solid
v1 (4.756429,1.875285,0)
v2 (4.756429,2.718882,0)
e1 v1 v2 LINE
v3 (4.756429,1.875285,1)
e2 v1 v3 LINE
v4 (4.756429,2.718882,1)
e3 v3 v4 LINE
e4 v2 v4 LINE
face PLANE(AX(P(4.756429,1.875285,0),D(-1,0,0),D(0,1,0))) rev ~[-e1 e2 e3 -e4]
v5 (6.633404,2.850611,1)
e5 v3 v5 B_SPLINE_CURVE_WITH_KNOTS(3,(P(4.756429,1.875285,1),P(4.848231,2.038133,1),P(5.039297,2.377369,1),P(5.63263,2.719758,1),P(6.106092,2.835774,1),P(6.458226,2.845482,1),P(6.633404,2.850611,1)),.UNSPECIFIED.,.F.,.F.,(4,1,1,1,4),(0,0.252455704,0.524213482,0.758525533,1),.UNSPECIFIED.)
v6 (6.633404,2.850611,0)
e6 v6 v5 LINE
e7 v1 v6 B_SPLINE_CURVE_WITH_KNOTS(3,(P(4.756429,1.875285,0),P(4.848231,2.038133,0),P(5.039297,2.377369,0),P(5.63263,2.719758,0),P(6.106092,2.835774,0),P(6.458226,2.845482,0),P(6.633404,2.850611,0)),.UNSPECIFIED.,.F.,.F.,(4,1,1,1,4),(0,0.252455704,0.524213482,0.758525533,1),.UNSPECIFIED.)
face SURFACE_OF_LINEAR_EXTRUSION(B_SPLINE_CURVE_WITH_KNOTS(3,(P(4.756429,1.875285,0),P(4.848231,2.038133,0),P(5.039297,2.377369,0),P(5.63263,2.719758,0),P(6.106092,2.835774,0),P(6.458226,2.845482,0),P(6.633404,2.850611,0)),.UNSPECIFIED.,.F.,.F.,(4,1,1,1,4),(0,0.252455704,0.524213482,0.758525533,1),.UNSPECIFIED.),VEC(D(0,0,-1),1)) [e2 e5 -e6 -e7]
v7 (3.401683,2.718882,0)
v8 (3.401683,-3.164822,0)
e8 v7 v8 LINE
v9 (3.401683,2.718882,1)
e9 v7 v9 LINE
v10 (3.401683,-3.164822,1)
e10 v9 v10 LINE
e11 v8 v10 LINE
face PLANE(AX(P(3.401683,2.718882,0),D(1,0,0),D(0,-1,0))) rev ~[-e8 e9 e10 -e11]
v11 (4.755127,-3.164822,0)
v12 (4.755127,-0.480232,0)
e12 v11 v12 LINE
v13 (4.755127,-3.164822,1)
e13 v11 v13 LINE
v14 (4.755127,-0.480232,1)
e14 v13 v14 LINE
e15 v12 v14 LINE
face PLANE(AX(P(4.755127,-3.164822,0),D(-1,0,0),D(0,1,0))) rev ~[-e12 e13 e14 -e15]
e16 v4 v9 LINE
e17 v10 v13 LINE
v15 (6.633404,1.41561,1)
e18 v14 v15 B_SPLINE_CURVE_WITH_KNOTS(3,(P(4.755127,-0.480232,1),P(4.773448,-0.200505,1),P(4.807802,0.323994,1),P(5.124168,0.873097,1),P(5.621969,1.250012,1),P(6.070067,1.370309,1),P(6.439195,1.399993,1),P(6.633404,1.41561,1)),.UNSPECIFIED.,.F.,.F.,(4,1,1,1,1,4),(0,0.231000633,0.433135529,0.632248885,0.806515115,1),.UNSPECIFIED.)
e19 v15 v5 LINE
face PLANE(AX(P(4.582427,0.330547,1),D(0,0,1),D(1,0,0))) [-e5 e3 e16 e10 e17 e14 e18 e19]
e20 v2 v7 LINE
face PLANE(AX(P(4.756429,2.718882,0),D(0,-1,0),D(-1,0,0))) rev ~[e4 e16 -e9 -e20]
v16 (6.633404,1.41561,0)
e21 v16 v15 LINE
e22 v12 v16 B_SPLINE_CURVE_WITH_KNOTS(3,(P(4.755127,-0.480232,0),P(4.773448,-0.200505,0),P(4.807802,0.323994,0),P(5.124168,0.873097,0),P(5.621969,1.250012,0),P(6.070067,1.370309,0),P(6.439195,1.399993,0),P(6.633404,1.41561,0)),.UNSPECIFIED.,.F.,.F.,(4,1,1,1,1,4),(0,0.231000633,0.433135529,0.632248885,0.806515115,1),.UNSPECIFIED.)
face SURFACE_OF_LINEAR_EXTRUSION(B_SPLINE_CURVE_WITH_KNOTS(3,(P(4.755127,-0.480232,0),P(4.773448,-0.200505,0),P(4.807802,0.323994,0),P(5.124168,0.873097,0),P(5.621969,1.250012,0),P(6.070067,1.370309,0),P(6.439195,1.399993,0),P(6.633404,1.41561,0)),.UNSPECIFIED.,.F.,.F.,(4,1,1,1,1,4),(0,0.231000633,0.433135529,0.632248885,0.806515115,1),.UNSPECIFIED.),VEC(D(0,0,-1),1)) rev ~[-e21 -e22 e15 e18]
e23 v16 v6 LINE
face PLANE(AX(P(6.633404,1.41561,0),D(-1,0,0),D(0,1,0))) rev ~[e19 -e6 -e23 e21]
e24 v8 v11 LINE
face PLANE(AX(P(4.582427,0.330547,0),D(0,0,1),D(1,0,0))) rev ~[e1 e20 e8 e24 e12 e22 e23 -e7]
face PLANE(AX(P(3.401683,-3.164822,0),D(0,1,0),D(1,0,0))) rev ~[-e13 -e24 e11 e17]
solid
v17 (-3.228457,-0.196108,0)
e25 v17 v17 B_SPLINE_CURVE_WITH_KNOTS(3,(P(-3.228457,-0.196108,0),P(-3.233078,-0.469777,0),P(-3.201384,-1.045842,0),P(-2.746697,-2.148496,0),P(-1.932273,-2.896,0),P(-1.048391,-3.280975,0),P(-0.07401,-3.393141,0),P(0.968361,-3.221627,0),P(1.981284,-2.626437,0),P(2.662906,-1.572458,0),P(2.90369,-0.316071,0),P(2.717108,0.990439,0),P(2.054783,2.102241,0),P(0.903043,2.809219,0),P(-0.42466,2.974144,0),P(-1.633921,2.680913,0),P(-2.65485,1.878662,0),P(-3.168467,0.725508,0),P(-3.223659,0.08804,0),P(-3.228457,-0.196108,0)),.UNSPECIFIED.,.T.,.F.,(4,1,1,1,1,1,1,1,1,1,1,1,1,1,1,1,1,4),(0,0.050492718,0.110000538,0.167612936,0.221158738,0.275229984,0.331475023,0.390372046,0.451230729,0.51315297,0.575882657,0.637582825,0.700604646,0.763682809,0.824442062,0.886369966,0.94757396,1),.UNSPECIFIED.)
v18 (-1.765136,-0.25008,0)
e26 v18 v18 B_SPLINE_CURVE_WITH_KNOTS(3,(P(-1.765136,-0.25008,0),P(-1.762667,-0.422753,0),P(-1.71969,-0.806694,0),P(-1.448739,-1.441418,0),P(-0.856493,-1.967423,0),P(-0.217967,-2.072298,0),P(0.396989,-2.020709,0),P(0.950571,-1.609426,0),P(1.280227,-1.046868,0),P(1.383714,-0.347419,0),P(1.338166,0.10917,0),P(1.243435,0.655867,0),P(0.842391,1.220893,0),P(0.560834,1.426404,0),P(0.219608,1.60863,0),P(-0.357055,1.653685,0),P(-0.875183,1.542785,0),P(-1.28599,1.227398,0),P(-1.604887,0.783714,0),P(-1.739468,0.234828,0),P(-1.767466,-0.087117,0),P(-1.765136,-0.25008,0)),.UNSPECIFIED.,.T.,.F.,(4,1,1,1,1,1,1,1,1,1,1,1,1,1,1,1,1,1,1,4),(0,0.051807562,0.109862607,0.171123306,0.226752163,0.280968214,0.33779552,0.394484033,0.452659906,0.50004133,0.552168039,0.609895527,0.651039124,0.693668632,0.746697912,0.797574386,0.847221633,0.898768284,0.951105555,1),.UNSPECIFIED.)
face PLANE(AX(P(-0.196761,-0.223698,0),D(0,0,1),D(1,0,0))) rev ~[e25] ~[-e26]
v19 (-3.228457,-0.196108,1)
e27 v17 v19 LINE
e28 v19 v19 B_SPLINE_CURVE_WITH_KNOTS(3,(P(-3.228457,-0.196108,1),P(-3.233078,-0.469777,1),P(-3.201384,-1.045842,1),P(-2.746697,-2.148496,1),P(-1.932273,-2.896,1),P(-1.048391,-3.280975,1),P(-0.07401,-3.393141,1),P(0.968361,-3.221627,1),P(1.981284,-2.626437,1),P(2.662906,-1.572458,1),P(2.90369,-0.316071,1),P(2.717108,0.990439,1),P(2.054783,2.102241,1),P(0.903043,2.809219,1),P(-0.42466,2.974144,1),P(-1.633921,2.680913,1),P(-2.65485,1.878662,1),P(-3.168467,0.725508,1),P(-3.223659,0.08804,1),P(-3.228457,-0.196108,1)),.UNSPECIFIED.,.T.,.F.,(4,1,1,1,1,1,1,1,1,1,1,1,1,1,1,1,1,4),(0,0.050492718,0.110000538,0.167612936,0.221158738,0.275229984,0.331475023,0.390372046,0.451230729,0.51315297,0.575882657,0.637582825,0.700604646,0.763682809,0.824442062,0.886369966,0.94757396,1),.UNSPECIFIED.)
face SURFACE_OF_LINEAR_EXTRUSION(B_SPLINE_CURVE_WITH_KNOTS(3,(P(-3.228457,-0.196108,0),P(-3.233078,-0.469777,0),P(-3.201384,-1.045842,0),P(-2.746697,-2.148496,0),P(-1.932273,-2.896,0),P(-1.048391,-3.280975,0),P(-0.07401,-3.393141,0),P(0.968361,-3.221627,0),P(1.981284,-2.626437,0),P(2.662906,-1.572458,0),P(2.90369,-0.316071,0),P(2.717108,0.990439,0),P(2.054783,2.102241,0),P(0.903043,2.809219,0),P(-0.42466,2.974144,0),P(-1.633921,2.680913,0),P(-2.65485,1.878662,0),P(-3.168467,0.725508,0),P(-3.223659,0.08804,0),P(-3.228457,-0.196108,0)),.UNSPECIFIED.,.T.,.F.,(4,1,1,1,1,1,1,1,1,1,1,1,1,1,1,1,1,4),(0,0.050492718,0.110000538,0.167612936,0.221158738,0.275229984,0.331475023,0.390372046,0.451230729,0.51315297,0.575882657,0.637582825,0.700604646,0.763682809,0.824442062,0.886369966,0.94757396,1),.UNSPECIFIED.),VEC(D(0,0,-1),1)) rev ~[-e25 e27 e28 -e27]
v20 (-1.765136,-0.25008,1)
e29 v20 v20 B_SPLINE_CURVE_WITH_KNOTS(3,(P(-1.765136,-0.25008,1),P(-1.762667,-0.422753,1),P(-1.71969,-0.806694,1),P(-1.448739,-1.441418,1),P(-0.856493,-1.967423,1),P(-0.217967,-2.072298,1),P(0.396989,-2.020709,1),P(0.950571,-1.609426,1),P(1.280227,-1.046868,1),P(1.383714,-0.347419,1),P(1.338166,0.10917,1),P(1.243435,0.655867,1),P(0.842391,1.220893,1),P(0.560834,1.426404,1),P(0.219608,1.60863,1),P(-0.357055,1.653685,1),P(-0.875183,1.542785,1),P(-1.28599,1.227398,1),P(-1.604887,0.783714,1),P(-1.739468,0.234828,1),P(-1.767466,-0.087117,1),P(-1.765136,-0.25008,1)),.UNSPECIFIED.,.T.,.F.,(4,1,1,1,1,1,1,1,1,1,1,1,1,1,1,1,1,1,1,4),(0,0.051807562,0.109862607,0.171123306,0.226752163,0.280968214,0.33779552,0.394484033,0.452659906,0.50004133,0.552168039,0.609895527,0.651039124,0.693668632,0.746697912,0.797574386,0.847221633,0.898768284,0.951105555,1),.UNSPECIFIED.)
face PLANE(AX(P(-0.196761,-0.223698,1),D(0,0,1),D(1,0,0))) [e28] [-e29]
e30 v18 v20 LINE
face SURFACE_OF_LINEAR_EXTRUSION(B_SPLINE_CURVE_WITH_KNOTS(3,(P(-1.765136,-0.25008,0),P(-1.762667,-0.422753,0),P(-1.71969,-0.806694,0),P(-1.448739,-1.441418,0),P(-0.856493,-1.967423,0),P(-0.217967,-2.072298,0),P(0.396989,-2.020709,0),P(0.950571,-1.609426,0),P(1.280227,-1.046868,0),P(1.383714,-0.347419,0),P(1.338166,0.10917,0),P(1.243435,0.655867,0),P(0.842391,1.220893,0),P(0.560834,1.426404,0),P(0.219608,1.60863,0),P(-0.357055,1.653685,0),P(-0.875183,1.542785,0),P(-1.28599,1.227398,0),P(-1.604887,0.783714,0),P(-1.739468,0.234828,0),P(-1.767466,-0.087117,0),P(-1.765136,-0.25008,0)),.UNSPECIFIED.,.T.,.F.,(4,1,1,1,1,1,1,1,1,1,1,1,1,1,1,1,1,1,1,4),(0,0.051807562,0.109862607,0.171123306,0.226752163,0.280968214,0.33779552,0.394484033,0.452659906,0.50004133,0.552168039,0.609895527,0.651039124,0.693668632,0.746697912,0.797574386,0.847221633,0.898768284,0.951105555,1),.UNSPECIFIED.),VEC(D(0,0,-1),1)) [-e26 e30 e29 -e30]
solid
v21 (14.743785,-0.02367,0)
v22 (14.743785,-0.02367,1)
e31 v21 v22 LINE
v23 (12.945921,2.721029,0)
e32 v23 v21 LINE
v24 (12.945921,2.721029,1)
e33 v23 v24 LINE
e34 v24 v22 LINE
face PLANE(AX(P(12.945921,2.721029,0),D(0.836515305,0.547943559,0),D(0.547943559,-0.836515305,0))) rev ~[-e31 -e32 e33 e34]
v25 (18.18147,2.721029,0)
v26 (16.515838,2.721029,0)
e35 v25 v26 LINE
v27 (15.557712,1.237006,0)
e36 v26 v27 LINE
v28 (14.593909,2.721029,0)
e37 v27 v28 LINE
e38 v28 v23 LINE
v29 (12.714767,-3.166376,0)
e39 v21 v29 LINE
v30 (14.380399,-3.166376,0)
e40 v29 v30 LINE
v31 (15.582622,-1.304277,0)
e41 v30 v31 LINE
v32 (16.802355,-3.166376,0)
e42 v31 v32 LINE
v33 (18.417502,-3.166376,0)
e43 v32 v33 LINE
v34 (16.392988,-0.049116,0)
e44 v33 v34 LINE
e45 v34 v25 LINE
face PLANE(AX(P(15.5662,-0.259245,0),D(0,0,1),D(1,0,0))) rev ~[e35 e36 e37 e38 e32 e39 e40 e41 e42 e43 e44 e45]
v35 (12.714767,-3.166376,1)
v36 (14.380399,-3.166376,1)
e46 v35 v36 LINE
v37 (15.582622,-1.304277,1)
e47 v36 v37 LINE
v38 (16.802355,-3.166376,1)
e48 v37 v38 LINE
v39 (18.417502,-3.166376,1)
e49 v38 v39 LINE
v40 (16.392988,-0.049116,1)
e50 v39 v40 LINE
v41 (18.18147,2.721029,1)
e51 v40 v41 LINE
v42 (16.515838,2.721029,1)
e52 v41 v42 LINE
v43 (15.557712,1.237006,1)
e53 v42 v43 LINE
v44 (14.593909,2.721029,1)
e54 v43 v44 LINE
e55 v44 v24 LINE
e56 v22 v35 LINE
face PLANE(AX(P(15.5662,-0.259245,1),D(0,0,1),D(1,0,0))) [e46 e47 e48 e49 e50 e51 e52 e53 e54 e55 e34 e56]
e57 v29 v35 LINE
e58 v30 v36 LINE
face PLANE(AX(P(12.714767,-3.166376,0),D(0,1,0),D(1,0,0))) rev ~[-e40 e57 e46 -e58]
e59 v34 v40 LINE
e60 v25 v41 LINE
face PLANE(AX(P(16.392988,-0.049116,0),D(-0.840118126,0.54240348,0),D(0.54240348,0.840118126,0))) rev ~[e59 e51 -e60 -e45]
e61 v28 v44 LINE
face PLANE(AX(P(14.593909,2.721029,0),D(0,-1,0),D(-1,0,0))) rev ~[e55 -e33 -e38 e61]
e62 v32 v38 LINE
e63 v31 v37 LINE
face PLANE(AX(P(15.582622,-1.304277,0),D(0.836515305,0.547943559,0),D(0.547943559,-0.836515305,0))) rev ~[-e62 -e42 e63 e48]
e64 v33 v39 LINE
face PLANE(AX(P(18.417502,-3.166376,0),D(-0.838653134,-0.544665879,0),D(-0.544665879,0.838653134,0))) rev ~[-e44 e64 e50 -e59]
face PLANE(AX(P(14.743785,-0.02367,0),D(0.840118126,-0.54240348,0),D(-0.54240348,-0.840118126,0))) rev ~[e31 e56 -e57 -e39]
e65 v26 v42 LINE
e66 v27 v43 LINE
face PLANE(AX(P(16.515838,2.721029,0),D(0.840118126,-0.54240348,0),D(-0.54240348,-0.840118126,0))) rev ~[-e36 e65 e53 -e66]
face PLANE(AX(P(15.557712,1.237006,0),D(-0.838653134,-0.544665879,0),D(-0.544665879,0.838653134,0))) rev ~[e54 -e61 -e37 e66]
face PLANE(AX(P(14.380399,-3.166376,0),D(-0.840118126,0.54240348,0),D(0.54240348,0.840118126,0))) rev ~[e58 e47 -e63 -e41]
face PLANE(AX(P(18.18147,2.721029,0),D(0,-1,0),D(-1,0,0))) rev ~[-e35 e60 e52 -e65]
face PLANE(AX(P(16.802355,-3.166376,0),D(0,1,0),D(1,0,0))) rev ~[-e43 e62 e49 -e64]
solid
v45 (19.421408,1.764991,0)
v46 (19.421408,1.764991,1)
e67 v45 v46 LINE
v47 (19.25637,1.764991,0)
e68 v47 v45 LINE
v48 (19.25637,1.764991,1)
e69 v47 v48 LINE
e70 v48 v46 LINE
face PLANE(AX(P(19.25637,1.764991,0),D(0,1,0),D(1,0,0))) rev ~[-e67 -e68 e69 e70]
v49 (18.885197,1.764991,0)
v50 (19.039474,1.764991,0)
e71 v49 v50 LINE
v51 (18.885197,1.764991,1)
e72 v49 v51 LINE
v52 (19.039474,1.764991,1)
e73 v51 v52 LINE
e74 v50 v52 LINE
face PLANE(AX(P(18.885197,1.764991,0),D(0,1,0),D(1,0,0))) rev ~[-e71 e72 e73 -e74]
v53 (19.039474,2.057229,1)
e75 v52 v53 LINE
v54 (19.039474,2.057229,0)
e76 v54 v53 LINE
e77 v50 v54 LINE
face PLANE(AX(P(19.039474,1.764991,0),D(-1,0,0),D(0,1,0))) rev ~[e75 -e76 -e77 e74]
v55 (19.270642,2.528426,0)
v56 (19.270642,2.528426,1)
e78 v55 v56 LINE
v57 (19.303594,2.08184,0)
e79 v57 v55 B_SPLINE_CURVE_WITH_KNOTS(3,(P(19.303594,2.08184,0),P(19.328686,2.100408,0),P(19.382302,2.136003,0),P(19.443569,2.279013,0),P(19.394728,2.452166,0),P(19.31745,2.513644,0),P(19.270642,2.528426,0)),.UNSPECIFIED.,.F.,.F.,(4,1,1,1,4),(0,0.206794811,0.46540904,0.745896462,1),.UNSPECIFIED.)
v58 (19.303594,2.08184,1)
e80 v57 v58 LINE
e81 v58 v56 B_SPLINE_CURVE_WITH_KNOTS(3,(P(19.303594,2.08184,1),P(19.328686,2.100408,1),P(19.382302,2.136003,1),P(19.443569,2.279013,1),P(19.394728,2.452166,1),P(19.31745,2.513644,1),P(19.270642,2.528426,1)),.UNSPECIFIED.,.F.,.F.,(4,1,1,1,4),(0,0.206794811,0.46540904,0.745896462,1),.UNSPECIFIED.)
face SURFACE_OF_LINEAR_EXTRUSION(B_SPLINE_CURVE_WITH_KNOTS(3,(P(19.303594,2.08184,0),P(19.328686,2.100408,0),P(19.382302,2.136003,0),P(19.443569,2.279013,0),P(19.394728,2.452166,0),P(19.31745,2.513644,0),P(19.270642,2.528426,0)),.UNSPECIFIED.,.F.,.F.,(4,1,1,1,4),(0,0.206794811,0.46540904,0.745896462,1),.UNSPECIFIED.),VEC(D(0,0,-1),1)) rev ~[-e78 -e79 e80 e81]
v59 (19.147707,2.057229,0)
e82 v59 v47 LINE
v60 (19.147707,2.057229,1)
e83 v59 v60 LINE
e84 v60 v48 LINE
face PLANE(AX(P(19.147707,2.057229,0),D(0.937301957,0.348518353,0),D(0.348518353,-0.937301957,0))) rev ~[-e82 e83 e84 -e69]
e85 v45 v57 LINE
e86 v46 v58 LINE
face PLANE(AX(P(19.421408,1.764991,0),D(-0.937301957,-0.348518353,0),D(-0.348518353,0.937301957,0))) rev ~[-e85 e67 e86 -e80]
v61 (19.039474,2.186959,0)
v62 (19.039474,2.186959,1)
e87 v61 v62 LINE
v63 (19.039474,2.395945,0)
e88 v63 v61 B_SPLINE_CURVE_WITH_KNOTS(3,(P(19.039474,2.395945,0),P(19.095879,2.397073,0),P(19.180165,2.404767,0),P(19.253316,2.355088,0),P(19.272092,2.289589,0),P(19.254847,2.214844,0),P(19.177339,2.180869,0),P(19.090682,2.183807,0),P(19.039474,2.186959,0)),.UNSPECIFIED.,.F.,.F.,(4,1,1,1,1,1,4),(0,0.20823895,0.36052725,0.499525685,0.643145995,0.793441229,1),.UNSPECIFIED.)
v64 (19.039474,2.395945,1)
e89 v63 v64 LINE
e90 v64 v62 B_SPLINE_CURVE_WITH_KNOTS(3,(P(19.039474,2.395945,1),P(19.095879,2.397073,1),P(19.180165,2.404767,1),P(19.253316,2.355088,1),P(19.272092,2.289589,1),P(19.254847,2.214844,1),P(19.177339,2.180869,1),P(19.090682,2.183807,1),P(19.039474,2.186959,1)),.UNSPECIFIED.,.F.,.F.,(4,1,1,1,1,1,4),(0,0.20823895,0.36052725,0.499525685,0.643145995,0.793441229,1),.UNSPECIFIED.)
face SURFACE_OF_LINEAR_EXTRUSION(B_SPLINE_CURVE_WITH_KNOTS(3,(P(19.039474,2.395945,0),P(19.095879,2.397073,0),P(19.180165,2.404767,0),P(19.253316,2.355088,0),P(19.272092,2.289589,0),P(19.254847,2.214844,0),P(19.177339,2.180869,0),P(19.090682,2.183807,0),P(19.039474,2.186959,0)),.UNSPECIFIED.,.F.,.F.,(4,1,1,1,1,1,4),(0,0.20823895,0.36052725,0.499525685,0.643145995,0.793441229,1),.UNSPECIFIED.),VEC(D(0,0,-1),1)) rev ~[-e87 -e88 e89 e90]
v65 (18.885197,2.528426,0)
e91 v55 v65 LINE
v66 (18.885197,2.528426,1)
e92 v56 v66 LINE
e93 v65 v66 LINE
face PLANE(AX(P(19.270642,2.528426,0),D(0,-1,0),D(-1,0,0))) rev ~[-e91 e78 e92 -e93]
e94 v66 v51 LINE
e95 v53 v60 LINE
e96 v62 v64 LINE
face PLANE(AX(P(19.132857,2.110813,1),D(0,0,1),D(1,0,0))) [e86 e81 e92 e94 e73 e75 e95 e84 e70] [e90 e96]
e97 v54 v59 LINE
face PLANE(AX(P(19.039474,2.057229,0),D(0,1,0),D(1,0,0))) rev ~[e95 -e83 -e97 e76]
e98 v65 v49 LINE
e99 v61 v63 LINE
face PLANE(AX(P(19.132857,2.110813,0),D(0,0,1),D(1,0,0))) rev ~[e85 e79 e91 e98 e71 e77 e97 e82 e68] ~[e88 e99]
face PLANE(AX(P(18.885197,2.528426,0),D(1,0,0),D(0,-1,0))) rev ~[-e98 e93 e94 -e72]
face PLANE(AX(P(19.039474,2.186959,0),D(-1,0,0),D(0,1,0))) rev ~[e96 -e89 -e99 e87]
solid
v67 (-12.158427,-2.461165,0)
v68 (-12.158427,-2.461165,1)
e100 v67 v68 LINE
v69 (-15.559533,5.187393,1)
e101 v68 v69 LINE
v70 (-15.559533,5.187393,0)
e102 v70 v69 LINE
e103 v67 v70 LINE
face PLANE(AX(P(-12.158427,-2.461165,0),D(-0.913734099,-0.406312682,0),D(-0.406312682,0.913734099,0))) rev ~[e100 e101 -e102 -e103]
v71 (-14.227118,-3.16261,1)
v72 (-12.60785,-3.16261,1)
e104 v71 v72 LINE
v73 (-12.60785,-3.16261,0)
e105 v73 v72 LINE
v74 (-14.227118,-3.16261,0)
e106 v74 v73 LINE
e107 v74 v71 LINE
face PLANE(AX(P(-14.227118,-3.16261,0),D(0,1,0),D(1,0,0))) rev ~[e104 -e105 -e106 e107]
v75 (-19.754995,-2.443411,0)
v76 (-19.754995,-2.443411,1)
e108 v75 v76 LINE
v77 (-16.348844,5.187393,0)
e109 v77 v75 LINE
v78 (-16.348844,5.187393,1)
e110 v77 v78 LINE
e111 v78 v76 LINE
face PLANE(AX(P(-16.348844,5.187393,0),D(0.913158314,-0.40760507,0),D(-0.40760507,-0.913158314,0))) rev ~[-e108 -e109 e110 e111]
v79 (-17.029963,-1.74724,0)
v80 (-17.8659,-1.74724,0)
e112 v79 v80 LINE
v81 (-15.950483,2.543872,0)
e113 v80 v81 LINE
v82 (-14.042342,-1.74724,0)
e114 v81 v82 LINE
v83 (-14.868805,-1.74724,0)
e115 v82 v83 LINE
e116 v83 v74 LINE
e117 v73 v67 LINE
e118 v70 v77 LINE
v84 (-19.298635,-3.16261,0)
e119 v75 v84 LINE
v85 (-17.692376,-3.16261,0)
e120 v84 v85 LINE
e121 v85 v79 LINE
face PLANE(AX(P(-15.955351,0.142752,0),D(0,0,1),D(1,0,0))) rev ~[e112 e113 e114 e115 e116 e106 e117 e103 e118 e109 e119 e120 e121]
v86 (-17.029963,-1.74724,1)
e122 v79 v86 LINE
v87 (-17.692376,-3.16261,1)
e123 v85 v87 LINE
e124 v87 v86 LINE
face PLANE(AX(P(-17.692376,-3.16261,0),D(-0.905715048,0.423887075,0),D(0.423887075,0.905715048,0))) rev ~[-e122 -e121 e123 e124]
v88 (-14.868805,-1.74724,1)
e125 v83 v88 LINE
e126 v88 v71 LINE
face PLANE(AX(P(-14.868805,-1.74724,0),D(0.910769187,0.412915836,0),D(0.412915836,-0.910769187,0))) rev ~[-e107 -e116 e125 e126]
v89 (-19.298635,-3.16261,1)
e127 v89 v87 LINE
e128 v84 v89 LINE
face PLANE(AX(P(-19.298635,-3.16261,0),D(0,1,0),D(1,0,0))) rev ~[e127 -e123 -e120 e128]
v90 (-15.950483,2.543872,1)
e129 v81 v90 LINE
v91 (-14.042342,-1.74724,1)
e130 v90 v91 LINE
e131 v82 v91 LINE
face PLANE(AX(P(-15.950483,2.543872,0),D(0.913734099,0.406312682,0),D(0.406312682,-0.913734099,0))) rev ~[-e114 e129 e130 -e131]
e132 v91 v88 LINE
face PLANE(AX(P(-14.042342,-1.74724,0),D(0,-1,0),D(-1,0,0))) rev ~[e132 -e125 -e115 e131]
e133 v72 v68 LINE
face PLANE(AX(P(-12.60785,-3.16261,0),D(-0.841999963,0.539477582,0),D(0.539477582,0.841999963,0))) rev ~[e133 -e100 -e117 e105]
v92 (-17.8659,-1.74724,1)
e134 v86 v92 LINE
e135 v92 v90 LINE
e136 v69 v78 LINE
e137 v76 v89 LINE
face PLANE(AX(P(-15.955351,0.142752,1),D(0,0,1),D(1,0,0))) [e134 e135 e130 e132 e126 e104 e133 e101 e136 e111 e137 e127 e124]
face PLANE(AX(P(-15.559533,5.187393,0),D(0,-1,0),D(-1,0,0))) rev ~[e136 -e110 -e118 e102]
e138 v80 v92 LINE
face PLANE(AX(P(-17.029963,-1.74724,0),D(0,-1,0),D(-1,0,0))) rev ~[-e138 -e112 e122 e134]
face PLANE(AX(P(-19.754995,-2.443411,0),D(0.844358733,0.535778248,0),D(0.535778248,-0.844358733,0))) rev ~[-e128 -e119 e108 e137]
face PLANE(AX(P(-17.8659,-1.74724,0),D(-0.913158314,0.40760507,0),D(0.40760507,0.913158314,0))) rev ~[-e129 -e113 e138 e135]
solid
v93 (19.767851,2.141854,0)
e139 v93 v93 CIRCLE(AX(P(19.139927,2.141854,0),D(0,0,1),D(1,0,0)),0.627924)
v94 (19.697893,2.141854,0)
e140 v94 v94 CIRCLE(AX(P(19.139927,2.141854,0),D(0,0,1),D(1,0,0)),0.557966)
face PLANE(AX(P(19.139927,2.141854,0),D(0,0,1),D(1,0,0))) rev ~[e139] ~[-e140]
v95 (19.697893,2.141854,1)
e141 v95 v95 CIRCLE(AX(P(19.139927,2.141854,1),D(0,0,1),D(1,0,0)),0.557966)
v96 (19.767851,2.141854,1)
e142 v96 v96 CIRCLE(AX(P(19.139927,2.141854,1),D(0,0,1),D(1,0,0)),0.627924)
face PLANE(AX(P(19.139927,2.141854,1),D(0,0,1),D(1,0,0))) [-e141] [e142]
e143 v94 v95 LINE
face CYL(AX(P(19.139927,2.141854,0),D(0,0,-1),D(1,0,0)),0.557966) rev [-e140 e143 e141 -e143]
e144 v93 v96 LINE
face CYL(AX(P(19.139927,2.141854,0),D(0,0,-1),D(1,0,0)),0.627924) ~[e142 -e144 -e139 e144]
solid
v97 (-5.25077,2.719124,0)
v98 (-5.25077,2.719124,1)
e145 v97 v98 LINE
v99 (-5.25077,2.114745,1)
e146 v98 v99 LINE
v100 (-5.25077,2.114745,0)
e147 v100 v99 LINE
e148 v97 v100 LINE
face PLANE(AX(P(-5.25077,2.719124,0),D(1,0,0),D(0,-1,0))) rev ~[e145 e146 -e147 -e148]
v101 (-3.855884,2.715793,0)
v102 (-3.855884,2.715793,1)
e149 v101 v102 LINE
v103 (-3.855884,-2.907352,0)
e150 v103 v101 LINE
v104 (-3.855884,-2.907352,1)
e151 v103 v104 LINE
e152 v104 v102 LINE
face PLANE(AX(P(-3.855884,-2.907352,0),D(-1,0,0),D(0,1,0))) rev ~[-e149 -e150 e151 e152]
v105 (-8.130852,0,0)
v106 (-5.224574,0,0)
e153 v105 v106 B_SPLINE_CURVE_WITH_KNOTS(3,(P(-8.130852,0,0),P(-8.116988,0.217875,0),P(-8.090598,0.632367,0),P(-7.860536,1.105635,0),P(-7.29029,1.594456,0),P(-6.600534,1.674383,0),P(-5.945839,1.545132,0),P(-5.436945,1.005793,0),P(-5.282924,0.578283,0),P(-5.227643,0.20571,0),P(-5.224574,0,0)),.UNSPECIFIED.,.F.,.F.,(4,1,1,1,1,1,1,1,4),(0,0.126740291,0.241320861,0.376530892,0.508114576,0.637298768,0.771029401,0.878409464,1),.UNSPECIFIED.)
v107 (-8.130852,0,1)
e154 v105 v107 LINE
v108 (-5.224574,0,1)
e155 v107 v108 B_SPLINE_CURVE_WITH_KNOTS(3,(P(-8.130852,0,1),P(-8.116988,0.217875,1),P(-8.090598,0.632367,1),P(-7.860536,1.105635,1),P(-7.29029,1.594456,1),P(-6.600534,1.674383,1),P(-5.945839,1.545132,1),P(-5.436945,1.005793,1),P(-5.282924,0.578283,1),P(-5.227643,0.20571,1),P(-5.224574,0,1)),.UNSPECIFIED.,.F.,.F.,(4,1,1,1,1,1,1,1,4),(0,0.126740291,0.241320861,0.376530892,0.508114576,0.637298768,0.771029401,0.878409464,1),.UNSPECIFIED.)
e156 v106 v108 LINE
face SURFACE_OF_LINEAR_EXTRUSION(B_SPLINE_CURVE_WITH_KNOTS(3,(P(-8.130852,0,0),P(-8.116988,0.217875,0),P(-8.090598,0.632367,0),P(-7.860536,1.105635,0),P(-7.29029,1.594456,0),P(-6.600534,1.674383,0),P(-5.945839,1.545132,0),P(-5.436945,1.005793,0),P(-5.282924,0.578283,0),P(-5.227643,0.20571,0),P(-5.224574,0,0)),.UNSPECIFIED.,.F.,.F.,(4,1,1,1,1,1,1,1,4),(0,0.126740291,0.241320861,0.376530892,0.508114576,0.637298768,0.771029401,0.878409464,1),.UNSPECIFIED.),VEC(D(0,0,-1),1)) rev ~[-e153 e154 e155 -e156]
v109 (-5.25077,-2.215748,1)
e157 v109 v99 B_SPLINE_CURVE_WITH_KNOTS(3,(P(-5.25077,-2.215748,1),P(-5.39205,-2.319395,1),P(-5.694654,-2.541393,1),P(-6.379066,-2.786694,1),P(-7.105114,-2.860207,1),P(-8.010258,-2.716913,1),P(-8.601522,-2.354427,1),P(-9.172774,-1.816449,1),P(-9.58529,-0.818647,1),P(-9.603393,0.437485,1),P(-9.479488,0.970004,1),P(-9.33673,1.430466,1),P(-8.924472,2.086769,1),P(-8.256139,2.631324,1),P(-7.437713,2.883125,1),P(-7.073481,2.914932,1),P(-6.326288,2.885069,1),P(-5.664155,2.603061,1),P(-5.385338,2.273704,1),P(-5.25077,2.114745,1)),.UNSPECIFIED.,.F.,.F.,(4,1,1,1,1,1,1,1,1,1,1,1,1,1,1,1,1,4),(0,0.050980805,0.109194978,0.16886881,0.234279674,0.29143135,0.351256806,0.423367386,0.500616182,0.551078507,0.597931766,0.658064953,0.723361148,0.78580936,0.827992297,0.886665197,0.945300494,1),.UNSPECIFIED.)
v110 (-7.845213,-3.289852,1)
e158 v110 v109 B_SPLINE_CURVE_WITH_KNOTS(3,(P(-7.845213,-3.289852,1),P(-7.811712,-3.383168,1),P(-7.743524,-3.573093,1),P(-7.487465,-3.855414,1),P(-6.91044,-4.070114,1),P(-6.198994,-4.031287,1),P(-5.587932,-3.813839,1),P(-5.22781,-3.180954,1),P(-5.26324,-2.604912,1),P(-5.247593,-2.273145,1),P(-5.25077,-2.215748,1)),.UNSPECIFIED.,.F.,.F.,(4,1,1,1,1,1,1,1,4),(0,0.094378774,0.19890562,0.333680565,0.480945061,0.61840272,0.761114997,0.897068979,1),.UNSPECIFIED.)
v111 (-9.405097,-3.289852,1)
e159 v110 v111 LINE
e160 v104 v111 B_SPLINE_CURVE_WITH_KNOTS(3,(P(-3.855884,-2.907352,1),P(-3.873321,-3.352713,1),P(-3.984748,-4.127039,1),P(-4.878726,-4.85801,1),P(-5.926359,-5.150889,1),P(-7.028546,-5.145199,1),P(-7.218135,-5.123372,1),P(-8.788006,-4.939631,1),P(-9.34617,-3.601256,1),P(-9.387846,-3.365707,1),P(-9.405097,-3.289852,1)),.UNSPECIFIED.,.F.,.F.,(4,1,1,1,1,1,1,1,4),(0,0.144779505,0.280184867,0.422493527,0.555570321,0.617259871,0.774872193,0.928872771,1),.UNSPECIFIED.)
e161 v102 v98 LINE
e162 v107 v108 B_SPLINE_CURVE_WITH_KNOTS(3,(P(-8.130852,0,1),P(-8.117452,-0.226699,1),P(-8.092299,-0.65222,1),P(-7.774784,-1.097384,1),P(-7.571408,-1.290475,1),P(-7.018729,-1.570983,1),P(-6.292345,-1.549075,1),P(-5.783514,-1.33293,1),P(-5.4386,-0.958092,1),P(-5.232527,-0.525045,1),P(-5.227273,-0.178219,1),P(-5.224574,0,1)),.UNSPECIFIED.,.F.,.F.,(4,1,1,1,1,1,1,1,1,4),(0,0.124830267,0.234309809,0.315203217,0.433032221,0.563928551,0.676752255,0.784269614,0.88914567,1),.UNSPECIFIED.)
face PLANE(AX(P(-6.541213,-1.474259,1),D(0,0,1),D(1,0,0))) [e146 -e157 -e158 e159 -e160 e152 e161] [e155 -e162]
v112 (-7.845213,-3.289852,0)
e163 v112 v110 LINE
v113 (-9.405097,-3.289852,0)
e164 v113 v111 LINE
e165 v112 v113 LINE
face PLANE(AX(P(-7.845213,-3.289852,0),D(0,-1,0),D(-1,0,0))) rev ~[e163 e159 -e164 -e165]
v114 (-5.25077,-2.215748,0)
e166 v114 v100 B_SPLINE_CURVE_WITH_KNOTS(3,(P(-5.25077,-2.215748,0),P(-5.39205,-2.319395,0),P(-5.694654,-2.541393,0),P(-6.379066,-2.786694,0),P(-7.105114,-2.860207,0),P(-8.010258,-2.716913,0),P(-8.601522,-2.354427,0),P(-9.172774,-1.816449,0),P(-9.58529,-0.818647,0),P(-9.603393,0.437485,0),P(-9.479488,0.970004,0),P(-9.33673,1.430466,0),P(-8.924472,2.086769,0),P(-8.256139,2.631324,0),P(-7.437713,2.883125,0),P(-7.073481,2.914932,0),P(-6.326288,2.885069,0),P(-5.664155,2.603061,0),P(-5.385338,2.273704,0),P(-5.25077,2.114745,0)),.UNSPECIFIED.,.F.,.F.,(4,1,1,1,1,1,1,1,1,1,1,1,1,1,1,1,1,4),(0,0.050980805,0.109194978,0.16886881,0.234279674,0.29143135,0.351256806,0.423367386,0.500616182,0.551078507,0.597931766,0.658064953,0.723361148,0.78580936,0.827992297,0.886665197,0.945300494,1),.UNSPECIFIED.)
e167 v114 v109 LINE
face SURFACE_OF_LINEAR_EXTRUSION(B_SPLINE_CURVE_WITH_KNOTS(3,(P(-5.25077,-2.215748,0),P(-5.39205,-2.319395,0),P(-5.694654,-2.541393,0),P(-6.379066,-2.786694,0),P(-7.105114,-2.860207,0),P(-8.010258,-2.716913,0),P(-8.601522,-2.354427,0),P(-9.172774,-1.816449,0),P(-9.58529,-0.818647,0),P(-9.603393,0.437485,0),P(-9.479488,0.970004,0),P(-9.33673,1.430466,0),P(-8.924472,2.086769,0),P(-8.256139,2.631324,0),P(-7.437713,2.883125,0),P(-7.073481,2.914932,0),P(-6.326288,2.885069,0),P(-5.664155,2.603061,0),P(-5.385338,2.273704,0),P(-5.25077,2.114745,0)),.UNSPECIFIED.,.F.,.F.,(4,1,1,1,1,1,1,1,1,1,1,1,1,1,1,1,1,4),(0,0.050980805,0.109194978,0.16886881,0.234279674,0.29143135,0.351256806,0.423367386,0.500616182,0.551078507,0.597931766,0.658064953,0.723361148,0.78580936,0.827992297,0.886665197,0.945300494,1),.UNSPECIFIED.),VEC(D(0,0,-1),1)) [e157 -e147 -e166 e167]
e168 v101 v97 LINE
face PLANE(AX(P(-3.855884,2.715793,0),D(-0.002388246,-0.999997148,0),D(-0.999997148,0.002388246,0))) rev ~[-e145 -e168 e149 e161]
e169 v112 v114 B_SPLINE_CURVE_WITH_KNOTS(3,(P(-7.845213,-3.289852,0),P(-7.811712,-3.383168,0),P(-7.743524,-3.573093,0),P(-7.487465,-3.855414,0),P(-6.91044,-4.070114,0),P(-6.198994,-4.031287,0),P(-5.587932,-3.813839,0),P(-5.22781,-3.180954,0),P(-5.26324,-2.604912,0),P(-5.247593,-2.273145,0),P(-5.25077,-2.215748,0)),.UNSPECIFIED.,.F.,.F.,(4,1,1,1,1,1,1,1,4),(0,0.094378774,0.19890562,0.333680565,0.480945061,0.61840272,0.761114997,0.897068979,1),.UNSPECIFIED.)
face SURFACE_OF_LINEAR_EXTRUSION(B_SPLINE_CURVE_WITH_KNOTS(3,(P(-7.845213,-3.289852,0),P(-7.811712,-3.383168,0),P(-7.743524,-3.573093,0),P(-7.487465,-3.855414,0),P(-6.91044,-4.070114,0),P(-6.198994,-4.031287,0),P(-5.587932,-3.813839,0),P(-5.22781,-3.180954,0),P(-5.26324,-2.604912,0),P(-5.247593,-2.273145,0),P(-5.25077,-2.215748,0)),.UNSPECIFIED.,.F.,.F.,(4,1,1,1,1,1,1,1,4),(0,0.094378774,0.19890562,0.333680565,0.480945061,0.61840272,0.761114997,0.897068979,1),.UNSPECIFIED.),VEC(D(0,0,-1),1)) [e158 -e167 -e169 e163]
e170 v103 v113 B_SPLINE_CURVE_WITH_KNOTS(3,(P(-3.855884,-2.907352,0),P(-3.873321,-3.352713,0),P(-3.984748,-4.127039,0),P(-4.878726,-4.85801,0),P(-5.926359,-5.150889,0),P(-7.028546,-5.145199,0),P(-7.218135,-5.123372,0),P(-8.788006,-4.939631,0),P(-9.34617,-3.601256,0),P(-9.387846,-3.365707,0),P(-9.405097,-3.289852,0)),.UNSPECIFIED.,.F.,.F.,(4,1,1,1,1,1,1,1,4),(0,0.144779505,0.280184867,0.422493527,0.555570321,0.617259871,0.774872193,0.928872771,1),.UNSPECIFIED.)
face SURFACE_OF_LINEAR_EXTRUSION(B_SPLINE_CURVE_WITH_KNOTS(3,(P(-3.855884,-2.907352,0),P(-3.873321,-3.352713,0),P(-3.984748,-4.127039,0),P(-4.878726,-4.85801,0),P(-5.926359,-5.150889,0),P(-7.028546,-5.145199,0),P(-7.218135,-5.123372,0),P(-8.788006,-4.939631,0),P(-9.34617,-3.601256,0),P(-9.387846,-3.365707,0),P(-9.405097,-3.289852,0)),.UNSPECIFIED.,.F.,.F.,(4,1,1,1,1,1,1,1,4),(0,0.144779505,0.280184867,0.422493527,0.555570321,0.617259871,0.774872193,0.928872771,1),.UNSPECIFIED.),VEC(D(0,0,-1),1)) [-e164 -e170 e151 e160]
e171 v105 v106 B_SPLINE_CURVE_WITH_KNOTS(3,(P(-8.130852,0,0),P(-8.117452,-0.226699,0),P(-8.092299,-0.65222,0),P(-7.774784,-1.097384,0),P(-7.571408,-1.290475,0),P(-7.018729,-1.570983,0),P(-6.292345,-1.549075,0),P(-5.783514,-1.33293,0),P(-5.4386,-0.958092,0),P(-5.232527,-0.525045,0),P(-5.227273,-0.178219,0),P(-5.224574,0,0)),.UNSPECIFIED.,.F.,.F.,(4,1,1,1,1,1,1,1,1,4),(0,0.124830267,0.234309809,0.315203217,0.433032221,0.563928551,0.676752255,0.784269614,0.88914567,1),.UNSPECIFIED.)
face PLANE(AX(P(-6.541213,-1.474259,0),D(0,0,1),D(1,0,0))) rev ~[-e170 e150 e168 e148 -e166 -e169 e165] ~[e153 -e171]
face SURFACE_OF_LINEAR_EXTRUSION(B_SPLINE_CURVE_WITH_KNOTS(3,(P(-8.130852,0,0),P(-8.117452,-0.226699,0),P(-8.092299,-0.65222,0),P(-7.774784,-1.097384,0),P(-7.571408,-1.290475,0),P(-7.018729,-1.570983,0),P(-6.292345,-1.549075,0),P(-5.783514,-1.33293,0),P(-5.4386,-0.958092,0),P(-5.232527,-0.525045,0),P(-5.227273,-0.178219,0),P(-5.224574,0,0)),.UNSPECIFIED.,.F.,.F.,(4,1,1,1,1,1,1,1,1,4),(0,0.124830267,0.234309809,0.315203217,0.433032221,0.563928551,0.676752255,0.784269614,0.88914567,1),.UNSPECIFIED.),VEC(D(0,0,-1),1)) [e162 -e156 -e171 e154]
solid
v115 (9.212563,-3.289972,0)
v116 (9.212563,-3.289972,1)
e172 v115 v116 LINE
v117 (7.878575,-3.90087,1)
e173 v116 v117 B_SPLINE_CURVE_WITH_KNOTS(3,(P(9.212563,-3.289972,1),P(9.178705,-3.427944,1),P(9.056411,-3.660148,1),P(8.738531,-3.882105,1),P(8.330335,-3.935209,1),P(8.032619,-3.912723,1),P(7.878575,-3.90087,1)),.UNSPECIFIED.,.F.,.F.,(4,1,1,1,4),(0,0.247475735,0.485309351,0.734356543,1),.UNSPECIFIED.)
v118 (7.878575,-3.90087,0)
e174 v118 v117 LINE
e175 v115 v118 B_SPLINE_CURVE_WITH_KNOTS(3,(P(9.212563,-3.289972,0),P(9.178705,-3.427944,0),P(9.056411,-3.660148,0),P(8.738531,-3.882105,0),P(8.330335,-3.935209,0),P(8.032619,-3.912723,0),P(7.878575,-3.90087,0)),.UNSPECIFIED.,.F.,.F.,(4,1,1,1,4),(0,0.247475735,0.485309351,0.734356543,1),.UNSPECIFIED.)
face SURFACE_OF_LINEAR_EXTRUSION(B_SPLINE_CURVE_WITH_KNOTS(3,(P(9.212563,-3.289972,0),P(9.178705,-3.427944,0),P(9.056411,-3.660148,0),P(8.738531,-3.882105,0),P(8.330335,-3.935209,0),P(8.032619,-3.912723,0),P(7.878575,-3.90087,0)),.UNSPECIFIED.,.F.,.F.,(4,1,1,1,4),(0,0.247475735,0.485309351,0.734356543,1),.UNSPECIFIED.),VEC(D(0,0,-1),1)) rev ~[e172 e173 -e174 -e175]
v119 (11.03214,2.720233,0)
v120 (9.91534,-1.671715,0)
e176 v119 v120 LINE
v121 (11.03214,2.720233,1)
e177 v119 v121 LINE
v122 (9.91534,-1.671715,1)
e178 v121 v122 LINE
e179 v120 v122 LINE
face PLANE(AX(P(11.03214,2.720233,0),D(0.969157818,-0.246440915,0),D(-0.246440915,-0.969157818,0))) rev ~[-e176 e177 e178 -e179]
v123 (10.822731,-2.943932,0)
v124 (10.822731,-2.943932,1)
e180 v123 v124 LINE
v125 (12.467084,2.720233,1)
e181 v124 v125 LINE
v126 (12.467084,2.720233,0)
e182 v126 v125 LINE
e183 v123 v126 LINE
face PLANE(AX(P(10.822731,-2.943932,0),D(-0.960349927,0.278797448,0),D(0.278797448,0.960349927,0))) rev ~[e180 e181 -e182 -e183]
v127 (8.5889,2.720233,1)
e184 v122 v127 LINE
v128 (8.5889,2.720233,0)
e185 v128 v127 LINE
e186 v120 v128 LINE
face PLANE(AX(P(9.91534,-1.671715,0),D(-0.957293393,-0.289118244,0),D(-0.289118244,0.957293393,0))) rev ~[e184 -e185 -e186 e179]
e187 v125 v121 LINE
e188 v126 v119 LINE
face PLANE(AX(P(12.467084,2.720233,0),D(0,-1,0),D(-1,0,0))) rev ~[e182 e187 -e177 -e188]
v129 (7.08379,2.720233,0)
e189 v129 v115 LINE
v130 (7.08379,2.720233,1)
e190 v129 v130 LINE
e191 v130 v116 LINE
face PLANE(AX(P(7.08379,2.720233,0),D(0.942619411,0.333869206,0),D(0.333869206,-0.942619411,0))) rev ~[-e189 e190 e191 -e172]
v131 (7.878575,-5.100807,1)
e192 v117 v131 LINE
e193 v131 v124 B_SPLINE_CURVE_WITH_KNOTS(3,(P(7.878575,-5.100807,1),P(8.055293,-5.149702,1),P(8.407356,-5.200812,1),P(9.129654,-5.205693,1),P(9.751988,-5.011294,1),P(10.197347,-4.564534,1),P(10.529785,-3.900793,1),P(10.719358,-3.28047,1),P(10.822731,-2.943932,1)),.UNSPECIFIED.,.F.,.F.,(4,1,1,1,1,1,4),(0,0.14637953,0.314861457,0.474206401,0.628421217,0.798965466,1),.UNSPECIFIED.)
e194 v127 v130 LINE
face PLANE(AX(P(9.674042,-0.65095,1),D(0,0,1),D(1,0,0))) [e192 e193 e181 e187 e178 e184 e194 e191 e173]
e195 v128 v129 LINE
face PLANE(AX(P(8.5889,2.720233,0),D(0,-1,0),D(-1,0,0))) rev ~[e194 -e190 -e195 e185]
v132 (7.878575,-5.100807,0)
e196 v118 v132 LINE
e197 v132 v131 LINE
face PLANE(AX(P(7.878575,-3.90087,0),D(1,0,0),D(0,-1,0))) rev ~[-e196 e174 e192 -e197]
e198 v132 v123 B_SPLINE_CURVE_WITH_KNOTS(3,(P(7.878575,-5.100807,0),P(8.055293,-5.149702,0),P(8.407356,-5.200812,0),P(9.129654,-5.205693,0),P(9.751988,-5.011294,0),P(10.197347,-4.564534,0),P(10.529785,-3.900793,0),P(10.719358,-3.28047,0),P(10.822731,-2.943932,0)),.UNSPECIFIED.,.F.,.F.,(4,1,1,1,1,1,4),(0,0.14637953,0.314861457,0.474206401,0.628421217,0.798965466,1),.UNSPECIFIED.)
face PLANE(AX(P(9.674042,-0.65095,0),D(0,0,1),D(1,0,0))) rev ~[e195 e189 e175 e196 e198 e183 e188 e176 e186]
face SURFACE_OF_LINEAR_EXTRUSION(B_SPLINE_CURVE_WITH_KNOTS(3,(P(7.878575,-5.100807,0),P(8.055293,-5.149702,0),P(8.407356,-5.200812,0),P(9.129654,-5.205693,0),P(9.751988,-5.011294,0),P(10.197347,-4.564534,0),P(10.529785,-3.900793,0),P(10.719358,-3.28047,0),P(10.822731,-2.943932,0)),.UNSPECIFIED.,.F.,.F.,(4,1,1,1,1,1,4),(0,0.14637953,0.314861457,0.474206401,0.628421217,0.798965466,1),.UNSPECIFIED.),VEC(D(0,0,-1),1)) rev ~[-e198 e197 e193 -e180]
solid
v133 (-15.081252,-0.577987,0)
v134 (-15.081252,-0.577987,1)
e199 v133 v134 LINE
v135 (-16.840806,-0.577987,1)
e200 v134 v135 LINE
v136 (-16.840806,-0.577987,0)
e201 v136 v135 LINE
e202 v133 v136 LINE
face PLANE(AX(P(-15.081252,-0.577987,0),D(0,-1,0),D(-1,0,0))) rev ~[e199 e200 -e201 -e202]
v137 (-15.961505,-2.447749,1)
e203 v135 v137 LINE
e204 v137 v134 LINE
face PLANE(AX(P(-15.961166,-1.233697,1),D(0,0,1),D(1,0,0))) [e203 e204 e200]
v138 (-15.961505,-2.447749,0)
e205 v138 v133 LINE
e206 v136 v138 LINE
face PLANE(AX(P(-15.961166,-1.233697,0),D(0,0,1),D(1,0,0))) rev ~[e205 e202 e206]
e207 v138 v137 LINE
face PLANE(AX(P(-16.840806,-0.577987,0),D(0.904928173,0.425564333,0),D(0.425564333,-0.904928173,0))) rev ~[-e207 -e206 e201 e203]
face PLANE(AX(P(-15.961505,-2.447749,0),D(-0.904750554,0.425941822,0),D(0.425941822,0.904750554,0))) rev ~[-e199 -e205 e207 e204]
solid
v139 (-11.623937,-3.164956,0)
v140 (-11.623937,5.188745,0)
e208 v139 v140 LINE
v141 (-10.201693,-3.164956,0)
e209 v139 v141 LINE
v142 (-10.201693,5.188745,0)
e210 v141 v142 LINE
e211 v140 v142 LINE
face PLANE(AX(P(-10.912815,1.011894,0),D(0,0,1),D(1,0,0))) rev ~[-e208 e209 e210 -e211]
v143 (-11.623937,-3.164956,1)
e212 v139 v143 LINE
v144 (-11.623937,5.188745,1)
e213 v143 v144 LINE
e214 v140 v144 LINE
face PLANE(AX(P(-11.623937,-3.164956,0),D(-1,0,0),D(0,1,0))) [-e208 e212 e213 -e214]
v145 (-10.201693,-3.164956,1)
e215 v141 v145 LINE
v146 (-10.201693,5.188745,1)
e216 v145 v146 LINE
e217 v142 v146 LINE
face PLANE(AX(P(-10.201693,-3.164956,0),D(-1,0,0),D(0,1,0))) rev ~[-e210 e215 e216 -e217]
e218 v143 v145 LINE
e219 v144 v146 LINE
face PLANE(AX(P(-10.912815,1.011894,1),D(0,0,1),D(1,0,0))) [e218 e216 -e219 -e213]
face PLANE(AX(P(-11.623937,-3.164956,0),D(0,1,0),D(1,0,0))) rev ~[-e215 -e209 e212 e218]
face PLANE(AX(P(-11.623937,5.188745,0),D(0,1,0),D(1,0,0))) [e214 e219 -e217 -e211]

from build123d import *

# Parameters (mm, degrees)
F1_DEPTH = 1
F0_W     = 1.4222441241
F0_H     = 8.3537010942
F0_R     = 0.6279237331
F0_R_2   = 0.5579662235


with BuildPart() as f1:
    # F0 (on Top) → F1 (new body)
    with BuildSketch(Plane.XY):
        Polygon((-16.3488443941, 5.1873927005), (-19.7549946606, -2.4434113875), (-19.2986354232, -3.1626098789), (-17.6923759282, -3.1626098789), (-17.0299634337, -1.7472400796), (-17.8658995365, -1.7472400796), (-15.9504826335, 2.5438715831), (-14.0423420817, -1.7472400796), (-14.868805185, -1.7472400796), (-14.2271183431, -3.1626098789), (-12.6078501344, -3.1626098789), (-12.1584273875, -2.4611647241), (-15.5595326796, 5.1873927005), align=None)
    extrude(amount=F1_DEPTH)


with BuildPart() as f1b:
    # F0 (on Top) → F1, piece 2 (new body)
    with BuildSketch(Plane.XY):
        Polygon((-15.0812519714, -0.5779869971), (-16.8408062309, -0.5779869971), (-15.9615054727, -2.4477490224), align=None)
    extrude(amount=F1_DEPTH)


with BuildPart() as f1c:
    # F0 (on Top) → F1, piece 3 (new body)
    with BuildSketch(Plane.XY):
        with Locations((-10.9128146432, 1.0118944338)):
            Rectangle(F0_W, F0_H)
    extrude(amount=F1_DEPTH)


with BuildPart() as f1d:
    # F0 (on Top) → F1, piece 4 (new body)
    with BuildSketch(Plane.XY):
        with BuildLine():
            Line((-3.8558838423, -2.9073522892), (-3.8558838423, 2.7157925069))
            Line((-3.8558838423, 2.7157925069), (-5.250770133, 2.7191238478))
            Line((-5.250770133, 2.7191238478), (-5.250770133, 2.114744857))
            add(Edge.make_bspline(
                [(-5.250770133, -2.21574842), (-5.3920497055, -2.3193948492), (-5.6946541855, -2.5413934954), (-6.3790656755, -2.7866941034), (-7.1051137086, -2.8602071713), (-8.0102576587, -2.7169133708), (-8.6015221372, -2.3544268543), (-9.1727736402, -1.8164485211), (-9.5852897605, -0.8186467774), (-9.6033932944, 0.4374854815), (-9.4794880443, 0.9700036227), (-9.3367298672, 1.4304664875), (-8.9244721778, 2.0867692527), (-8.2561392645, 2.6313242637), (-7.4377129187, 2.8831253052), (-7.0734814674, 2.9149319819), (-6.3262880802, 2.8850689099), (-5.6641554038, 2.6030605841), (-5.3853377112, 2.2737042332), (-5.250770133, 2.114744857)],
                knots=[0, 0, 0, 0, 0.0509808047, 0.1091949785, 0.1688688096, 0.2342796744, 0.2914313499, 0.3512568062, 0.423367386, 0.5006161822, 0.5510785071, 0.5979317658, 0.6580649527, 0.7233611476, 0.7858093604, 0.8279922974, 0.8866651967, 0.9453004942, 1, 1, 1, 1], degree=3))
            add(Edge.make_bspline(
                [(-7.8452127054, -3.2898520585), (-7.8117121152, -3.3831675635), (-7.7435240544, -3.5730925913), (-7.4874653887, -3.8554136407), (-6.9104396614, -4.0701135923), (-6.198994273, -4.0312870769), (-5.5879318648, -3.8138385071), (-5.2278102971, -3.1809543087), (-5.2632398781, -2.6049119269), (-5.2475925603, -2.2731449662), (-5.250770133, -2.21574842)],
                knots=[0, 0, 0, 0, 0.0943787743, 0.1989056201, 0.3336805651, 0.4809450615, 0.6184027203, 0.7611149971, 0.8970689785, 1, 1, 1, 1], degree=3))
            Line((-7.8452127054, -3.2898520585), (-9.4050969929, -3.2898520585))
            add(Edge.make_bspline(
                [(-3.8558838423, -2.9073522892), (-3.8733207039, -3.3527132004), (-3.9847479517, -4.1270394232), (-4.878725911, -4.8580095844), (-5.9263591333, -5.1508891121), (-7.0285458213, -5.145199471), (-7.2181353727, -5.1233724342), (-8.7880057279, -4.9396309996), (-9.3461702362, -3.6012559191), (-9.3878459006, -3.3657068367), (-9.4050969929, -3.2898520585)],
                knots=[0, 0, 0, 0, 0.1447795052, 0.2801848671, 0.4224935274, 0.5555703208, 0.6172598715, 0.7748721933, 0.9288727709, 1, 1, 1, 1], degree=3))
        make_face()
        with BuildLine():
            add(Edge.make_bspline(
                [(-8.130852133, 0), (-8.1174517692, -0.2266994074), (-8.0922989215, -0.6522203652), (-7.7747844028, -1.0973844852), (-7.5714079052, -1.2904753987), (-7.0187293496, -1.5709833132), (-6.2923449024, -1.5490754637), (-5.7835136304, -1.3329298922), (-5.4385998399, -0.9580923995), (-5.2325266516, -0.5250447511), (-5.2272733379, -0.1782186411), (-5.2245738916, 0)],
                knots=[0, 0, 0, 0, 0.1248302671, 0.2343098089, 0.315203217, 0.4330322213, 0.5639285508, 0.6767522551, 0.7842696143, 0.8891456697, 1, 1, 1, 1], degree=3))
            add(Edge.make_bspline(
                [(-8.130852133, 0), (-8.1169884446, 0.2178751829), (-8.090597805, 0.632367112), (-7.8605360694, 1.1056345486), (-7.2902903611, 1.5944558185), (-6.6005338042, 1.6743826223), (-5.9458394278, 1.5451319124), (-5.4369448612, 1.0057929265), (-5.2829243885, 0.5782833878), (-5.2276432441, 0.2057098462), (-5.2245738916, 0)],
                knots=[0, 0, 0, 0, 0.1267402907, 0.2413208611, 0.3765308922, 0.5081145763, 0.6372987682, 0.7710294006, 0.8784094637, 1, 1, 1, 1], degree=3))
        make_face(mode=Mode.SUBTRACT)
    extrude(amount=F1_DEPTH)


with BuildPart() as f1e:
    # F0 (on Top) → F1, piece 5 (new body)
    with BuildSketch(Plane.XY):
        with BuildLine():
            add(Edge.make_bspline(
                [(-3.2284571789, -0.1961077651), (-3.2330784968, -0.4697769979), (-3.2013839352, -1.0458417207), (-2.7466966758, -2.1484963176), (-1.932272596, -2.8959996709), (-1.0483905846, -3.2809749107), (-0.074010286, -3.3931411197), (0.9683607812, -3.2216274357), (1.9812839464, -2.62643655), (2.662905825, -1.5724584623), (2.9036901636, -0.3160708099), (2.7171076738, 0.9904392799), (2.0547827019, 2.1022410894), (0.9030427317, 2.8092187506), (-0.4246596507, 2.974144101), (-1.6339206416, 2.6809134144), (-2.6548497466, 1.8786615956), (-3.1684669287, 0.7255080339), (-3.2236589148, 0.088040026), (-3.2284571789, -0.1961077651)],
                knots=[0, 0, 0, 0, 0.0504927178, 0.1100005383, 0.1676129359, 0.221158738, 0.2752299839, 0.331475023, 0.390372046, 0.4512307285, 0.5131529703, 0.5758826565, 0.6375828247, 0.7006046455, 0.7636828092, 0.8244420625, 0.8863699658, 0.9475739597, 1, 1, 1, 1], degree=3))
        make_face()
        with BuildLine():
            add(Edge.make_bspline(
                [(-1.7651357921, -0.2500803093), (-1.7626672265, -0.4227528248), (-1.7196902436, -0.8066936741), (-1.4487389326, -1.441417533), (-0.8564934896, -1.9674229799), (-0.2179672465, -2.0722982324), (0.3969886216, -2.0207090412), (0.9505707939, -1.6094257536), (1.2802270993, -1.0468676822), (1.3837137483, -0.3474192994), (1.3381658972, 0.1091701324), (1.2434352647, 0.6558673779), (0.8423905341, 1.2208932408), (0.5608336082, 1.4264035779), (0.2196076483, 1.6086303658), (-0.3570550031, 1.6536851158), (-0.8751832284, 1.5427851965), (-1.2859900169, 1.2273981133), (-1.6048865795, 0.7837137572), (-1.7394675052, 0.2348280637), (-1.7674655513, -0.0871170972), (-1.7651357921, -0.2500803093)],
                knots=[0, 0, 0, 0, 0.0518075624, 0.1098626073, 0.1711233063, 0.2267521635, 0.2809682141, 0.33779552, 0.3944840333, 0.4526599063, 0.5000413303, 0.5521680394, 0.6098955269, 0.6510391242, 0.6936686325, 0.7466979118, 0.7975743856, 0.8472216328, 0.8987682835, 0.9511055551, 1, 1, 1, 1], degree=3))
        make_face(mode=Mode.SUBTRACT)
    extrude(amount=F1_DEPTH)


with BuildPart() as f1f:
    # F0 (on Top) → F1, piece 6 (new body)
    with BuildSketch(Plane.XY):
        with BuildLine():
            Line((3.4016827121, 2.7188824024), (3.4016827121, -3.16482177))
            Line((3.4016827121, -3.16482177), (4.755126778, -3.16482177))
            Line((4.755126778, -3.16482177), (4.755126778, -0.4802318581))
            add(Edge.make_bspline(
                [(4.755126778, -0.4802318581), (4.7734483949, -0.2005050143), (4.8078021676, 0.3239941306), (5.1241682777, 0.8730966509), (5.6219692454, 1.2500119585), (6.0700671639, 1.3703092929), (6.4391946669, 1.3999928093), (6.633403711, 1.415610197)],
                knots=[0, 0, 0, 0, 0.2310006331, 0.4331355293, 0.6322488847, 0.8065151147, 1, 1, 1, 1], degree=3))
            Line((6.633403711, 1.415610197), (6.633403711, 2.8506107628))
            add(Edge.make_bspline(
                [(4.7564292327, 1.87528471), (4.8482313202, 2.038132891), (5.03929747, 2.3773686969), (5.6326295288, 2.7197582822), (6.1060922361, 2.8357739897), (6.4582264189, 2.8454822383), (6.633403711, 2.8506107628)],
                knots=[0, 0, 0, 0, 0.2524557041, 0.5242134823, 0.7585255327, 1, 1, 1, 1], degree=3))
            Line((4.7564292327, 1.87528471), (4.7564292327, 2.7188824024))
            Line((4.7564292327, 2.7188824024), (3.4016827121, 2.7188824024))
        make_face()
    extrude(amount=F1_DEPTH)


with BuildPart() as f1g:
    # F0 (on Top) → F1, piece 7 (new body)
    with BuildSketch(Plane.XY):
        with BuildLine():
            Line((8.5888998583, 2.7202325873), (7.0837903768, 2.7202325873))
            Line((7.0837903768, 2.7202325873), (9.2125628144, -3.2899719663))
            add(Edge.make_bspline(
                [(9.2125628144, -3.2899719663), (9.1787052334, -3.4279441923), (9.0564107605, -3.6601478459), (8.7385307716, -3.8821050174), (8.3303349143, -3.9352093426), (8.0326193943, -3.9127229171), (7.8785745427, -3.9008697495)],
                knots=[0, 0, 0, 0, 0.2474757346, 0.4853093506, 0.7343565434, 1, 1, 1, 1], degree=3))
            Line((7.8785745427, -3.9008697495), (7.8785745427, -5.1008067094))
            add(Edge.make_bspline(
                [(7.8785745427, -5.1008067094), (8.0552926395, -5.1497018894), (8.4073555488, -5.2008120982), (9.1296537108, -5.205693101), (9.7519877806, -5.01129371), (10.1973467616, -4.5645340348), (10.5297850486, -3.900793194), (10.7193582083, -3.2804695641), (10.8227310702, -2.9439320788)],
                knots=[0, 0, 0, 0, 0.14637953, 0.3148614575, 0.4742064011, 0.628421217, 0.7989654655, 1, 1, 1, 1], degree=3))
            Line((10.8227310702, -2.9439320788), (12.4670844525, 2.7202325873))
            Line((12.4670844525, 2.7202325873), (11.0321398824, 2.7202325873))
            Line((11.0321398824, 2.7202325873), (9.9153397605, -1.671714941))
            Line((9.9153397605, -1.671714941), (8.5888998583, 2.7202325873))
        make_face()
    extrude(amount=F1_DEPTH)


with BuildPart() as f1h:
    # F0 (on Top) → F1, piece 8 (new body)
    with BuildSketch(Plane.XY):
        Polygon((14.5939088581, 2.7210286353), (12.9459214934, 2.7210286353), (14.7437846061, -0.0236701289), (12.7147668973, -3.1663759146), (14.3803991377, -3.1663759146), (15.5826218096, -1.3042767667), (16.8023547049, -3.1663759146), (18.4175020033, -3.1663759146), (16.3929880867, -0.0491163132), (18.1814702228, 2.7210286353), (16.5158379823, 2.7210286353), (15.5577119585, 1.2370060044), align=None)
    extrude(amount=F1_DEPTH)


with BuildPart() as f1i:
    # F0 (on Top) → F1, piece 9 (new body)
    with BuildSketch(Plane.XY):
        with Locations((19.1399268806, 2.1418542601)):
            Circle(F0_R)
        with Locations((19.1399268806, 2.1418542601)):
            Circle(F0_R_2, mode=Mode.SUBTRACT)
    extrude(amount=F1_DEPTH)


with BuildPart() as f1j:
    # F0 (on Top) → F1, piece 10 (new body)
    with BuildSketch(Plane.XY):
        with BuildLine():
            Line((18.8851971179, 2.528425915), (18.8851971179, 1.7649914639))
            Line((18.8851971179, 1.7649914639), (19.0394744277, 1.7649914639))
            Line((19.0394744277, 1.7649914639), (19.0394744277, 2.0572288463))
            Line((19.0394744277, 2.0572288463), (19.1477070902, 2.0572288463))
            Line((19.1477070902, 2.0572288463), (19.2563701421, 1.7649914639))
            Line((19.2563701421, 1.7649914639), (19.4214078558, 1.7649914639))
            Line((19.4214078558, 1.7649914639), (19.3035937846, 2.081839511))
            add(Edge.make_bspline(
                [(19.3035937846, 2.081839511), (19.328685766, 2.1004080744), (19.3823016137, 2.1360033374), (19.4435686613, 2.2790132245), (19.3947284789, 2.4521662926), (19.3174499242, 2.5136443431), (19.2706417292, 2.528425915)],
                knots=[0, 0, 0, 0, 0.2067948108, 0.4654090403, 0.7458964616, 1, 1, 1, 1], degree=3))
            Line((19.2706417292, 2.528425915), (18.8851971179, 2.528425915))
        make_face()
        with BuildLine():
            add(Edge.make_bspline(
                [(19.0394744277, 2.3959446698), (19.0958790481, 2.3970727343), (19.1801648609, 2.4047670909), (19.2533160663, 2.3550875781), (19.2720919778, 2.2895888002), (19.2548474853, 2.2148438264), (19.1773387622, 2.1808686505), (19.0906815075, 2.1838072082), (19.0394744277, 2.1869585348)],
                knots=[0, 0, 0, 0, 0.2082389501, 0.3605272502, 0.4995256854, 0.6431459948, 0.7934412291, 1, 1, 1, 1], degree=3))
            Line((19.0394744277, 2.1869585348), (19.0394744277, 2.3959446698))
        make_face(mode=Mode.SUBTRACT)
    extrude(amount=F1_DEPTH)


solid = Compound([f1.part, f1b.part, f1c.part, f1d.part, f1e.part, f1f.part, f1g.part, f1h.part, f1i.part, f1j.part])
